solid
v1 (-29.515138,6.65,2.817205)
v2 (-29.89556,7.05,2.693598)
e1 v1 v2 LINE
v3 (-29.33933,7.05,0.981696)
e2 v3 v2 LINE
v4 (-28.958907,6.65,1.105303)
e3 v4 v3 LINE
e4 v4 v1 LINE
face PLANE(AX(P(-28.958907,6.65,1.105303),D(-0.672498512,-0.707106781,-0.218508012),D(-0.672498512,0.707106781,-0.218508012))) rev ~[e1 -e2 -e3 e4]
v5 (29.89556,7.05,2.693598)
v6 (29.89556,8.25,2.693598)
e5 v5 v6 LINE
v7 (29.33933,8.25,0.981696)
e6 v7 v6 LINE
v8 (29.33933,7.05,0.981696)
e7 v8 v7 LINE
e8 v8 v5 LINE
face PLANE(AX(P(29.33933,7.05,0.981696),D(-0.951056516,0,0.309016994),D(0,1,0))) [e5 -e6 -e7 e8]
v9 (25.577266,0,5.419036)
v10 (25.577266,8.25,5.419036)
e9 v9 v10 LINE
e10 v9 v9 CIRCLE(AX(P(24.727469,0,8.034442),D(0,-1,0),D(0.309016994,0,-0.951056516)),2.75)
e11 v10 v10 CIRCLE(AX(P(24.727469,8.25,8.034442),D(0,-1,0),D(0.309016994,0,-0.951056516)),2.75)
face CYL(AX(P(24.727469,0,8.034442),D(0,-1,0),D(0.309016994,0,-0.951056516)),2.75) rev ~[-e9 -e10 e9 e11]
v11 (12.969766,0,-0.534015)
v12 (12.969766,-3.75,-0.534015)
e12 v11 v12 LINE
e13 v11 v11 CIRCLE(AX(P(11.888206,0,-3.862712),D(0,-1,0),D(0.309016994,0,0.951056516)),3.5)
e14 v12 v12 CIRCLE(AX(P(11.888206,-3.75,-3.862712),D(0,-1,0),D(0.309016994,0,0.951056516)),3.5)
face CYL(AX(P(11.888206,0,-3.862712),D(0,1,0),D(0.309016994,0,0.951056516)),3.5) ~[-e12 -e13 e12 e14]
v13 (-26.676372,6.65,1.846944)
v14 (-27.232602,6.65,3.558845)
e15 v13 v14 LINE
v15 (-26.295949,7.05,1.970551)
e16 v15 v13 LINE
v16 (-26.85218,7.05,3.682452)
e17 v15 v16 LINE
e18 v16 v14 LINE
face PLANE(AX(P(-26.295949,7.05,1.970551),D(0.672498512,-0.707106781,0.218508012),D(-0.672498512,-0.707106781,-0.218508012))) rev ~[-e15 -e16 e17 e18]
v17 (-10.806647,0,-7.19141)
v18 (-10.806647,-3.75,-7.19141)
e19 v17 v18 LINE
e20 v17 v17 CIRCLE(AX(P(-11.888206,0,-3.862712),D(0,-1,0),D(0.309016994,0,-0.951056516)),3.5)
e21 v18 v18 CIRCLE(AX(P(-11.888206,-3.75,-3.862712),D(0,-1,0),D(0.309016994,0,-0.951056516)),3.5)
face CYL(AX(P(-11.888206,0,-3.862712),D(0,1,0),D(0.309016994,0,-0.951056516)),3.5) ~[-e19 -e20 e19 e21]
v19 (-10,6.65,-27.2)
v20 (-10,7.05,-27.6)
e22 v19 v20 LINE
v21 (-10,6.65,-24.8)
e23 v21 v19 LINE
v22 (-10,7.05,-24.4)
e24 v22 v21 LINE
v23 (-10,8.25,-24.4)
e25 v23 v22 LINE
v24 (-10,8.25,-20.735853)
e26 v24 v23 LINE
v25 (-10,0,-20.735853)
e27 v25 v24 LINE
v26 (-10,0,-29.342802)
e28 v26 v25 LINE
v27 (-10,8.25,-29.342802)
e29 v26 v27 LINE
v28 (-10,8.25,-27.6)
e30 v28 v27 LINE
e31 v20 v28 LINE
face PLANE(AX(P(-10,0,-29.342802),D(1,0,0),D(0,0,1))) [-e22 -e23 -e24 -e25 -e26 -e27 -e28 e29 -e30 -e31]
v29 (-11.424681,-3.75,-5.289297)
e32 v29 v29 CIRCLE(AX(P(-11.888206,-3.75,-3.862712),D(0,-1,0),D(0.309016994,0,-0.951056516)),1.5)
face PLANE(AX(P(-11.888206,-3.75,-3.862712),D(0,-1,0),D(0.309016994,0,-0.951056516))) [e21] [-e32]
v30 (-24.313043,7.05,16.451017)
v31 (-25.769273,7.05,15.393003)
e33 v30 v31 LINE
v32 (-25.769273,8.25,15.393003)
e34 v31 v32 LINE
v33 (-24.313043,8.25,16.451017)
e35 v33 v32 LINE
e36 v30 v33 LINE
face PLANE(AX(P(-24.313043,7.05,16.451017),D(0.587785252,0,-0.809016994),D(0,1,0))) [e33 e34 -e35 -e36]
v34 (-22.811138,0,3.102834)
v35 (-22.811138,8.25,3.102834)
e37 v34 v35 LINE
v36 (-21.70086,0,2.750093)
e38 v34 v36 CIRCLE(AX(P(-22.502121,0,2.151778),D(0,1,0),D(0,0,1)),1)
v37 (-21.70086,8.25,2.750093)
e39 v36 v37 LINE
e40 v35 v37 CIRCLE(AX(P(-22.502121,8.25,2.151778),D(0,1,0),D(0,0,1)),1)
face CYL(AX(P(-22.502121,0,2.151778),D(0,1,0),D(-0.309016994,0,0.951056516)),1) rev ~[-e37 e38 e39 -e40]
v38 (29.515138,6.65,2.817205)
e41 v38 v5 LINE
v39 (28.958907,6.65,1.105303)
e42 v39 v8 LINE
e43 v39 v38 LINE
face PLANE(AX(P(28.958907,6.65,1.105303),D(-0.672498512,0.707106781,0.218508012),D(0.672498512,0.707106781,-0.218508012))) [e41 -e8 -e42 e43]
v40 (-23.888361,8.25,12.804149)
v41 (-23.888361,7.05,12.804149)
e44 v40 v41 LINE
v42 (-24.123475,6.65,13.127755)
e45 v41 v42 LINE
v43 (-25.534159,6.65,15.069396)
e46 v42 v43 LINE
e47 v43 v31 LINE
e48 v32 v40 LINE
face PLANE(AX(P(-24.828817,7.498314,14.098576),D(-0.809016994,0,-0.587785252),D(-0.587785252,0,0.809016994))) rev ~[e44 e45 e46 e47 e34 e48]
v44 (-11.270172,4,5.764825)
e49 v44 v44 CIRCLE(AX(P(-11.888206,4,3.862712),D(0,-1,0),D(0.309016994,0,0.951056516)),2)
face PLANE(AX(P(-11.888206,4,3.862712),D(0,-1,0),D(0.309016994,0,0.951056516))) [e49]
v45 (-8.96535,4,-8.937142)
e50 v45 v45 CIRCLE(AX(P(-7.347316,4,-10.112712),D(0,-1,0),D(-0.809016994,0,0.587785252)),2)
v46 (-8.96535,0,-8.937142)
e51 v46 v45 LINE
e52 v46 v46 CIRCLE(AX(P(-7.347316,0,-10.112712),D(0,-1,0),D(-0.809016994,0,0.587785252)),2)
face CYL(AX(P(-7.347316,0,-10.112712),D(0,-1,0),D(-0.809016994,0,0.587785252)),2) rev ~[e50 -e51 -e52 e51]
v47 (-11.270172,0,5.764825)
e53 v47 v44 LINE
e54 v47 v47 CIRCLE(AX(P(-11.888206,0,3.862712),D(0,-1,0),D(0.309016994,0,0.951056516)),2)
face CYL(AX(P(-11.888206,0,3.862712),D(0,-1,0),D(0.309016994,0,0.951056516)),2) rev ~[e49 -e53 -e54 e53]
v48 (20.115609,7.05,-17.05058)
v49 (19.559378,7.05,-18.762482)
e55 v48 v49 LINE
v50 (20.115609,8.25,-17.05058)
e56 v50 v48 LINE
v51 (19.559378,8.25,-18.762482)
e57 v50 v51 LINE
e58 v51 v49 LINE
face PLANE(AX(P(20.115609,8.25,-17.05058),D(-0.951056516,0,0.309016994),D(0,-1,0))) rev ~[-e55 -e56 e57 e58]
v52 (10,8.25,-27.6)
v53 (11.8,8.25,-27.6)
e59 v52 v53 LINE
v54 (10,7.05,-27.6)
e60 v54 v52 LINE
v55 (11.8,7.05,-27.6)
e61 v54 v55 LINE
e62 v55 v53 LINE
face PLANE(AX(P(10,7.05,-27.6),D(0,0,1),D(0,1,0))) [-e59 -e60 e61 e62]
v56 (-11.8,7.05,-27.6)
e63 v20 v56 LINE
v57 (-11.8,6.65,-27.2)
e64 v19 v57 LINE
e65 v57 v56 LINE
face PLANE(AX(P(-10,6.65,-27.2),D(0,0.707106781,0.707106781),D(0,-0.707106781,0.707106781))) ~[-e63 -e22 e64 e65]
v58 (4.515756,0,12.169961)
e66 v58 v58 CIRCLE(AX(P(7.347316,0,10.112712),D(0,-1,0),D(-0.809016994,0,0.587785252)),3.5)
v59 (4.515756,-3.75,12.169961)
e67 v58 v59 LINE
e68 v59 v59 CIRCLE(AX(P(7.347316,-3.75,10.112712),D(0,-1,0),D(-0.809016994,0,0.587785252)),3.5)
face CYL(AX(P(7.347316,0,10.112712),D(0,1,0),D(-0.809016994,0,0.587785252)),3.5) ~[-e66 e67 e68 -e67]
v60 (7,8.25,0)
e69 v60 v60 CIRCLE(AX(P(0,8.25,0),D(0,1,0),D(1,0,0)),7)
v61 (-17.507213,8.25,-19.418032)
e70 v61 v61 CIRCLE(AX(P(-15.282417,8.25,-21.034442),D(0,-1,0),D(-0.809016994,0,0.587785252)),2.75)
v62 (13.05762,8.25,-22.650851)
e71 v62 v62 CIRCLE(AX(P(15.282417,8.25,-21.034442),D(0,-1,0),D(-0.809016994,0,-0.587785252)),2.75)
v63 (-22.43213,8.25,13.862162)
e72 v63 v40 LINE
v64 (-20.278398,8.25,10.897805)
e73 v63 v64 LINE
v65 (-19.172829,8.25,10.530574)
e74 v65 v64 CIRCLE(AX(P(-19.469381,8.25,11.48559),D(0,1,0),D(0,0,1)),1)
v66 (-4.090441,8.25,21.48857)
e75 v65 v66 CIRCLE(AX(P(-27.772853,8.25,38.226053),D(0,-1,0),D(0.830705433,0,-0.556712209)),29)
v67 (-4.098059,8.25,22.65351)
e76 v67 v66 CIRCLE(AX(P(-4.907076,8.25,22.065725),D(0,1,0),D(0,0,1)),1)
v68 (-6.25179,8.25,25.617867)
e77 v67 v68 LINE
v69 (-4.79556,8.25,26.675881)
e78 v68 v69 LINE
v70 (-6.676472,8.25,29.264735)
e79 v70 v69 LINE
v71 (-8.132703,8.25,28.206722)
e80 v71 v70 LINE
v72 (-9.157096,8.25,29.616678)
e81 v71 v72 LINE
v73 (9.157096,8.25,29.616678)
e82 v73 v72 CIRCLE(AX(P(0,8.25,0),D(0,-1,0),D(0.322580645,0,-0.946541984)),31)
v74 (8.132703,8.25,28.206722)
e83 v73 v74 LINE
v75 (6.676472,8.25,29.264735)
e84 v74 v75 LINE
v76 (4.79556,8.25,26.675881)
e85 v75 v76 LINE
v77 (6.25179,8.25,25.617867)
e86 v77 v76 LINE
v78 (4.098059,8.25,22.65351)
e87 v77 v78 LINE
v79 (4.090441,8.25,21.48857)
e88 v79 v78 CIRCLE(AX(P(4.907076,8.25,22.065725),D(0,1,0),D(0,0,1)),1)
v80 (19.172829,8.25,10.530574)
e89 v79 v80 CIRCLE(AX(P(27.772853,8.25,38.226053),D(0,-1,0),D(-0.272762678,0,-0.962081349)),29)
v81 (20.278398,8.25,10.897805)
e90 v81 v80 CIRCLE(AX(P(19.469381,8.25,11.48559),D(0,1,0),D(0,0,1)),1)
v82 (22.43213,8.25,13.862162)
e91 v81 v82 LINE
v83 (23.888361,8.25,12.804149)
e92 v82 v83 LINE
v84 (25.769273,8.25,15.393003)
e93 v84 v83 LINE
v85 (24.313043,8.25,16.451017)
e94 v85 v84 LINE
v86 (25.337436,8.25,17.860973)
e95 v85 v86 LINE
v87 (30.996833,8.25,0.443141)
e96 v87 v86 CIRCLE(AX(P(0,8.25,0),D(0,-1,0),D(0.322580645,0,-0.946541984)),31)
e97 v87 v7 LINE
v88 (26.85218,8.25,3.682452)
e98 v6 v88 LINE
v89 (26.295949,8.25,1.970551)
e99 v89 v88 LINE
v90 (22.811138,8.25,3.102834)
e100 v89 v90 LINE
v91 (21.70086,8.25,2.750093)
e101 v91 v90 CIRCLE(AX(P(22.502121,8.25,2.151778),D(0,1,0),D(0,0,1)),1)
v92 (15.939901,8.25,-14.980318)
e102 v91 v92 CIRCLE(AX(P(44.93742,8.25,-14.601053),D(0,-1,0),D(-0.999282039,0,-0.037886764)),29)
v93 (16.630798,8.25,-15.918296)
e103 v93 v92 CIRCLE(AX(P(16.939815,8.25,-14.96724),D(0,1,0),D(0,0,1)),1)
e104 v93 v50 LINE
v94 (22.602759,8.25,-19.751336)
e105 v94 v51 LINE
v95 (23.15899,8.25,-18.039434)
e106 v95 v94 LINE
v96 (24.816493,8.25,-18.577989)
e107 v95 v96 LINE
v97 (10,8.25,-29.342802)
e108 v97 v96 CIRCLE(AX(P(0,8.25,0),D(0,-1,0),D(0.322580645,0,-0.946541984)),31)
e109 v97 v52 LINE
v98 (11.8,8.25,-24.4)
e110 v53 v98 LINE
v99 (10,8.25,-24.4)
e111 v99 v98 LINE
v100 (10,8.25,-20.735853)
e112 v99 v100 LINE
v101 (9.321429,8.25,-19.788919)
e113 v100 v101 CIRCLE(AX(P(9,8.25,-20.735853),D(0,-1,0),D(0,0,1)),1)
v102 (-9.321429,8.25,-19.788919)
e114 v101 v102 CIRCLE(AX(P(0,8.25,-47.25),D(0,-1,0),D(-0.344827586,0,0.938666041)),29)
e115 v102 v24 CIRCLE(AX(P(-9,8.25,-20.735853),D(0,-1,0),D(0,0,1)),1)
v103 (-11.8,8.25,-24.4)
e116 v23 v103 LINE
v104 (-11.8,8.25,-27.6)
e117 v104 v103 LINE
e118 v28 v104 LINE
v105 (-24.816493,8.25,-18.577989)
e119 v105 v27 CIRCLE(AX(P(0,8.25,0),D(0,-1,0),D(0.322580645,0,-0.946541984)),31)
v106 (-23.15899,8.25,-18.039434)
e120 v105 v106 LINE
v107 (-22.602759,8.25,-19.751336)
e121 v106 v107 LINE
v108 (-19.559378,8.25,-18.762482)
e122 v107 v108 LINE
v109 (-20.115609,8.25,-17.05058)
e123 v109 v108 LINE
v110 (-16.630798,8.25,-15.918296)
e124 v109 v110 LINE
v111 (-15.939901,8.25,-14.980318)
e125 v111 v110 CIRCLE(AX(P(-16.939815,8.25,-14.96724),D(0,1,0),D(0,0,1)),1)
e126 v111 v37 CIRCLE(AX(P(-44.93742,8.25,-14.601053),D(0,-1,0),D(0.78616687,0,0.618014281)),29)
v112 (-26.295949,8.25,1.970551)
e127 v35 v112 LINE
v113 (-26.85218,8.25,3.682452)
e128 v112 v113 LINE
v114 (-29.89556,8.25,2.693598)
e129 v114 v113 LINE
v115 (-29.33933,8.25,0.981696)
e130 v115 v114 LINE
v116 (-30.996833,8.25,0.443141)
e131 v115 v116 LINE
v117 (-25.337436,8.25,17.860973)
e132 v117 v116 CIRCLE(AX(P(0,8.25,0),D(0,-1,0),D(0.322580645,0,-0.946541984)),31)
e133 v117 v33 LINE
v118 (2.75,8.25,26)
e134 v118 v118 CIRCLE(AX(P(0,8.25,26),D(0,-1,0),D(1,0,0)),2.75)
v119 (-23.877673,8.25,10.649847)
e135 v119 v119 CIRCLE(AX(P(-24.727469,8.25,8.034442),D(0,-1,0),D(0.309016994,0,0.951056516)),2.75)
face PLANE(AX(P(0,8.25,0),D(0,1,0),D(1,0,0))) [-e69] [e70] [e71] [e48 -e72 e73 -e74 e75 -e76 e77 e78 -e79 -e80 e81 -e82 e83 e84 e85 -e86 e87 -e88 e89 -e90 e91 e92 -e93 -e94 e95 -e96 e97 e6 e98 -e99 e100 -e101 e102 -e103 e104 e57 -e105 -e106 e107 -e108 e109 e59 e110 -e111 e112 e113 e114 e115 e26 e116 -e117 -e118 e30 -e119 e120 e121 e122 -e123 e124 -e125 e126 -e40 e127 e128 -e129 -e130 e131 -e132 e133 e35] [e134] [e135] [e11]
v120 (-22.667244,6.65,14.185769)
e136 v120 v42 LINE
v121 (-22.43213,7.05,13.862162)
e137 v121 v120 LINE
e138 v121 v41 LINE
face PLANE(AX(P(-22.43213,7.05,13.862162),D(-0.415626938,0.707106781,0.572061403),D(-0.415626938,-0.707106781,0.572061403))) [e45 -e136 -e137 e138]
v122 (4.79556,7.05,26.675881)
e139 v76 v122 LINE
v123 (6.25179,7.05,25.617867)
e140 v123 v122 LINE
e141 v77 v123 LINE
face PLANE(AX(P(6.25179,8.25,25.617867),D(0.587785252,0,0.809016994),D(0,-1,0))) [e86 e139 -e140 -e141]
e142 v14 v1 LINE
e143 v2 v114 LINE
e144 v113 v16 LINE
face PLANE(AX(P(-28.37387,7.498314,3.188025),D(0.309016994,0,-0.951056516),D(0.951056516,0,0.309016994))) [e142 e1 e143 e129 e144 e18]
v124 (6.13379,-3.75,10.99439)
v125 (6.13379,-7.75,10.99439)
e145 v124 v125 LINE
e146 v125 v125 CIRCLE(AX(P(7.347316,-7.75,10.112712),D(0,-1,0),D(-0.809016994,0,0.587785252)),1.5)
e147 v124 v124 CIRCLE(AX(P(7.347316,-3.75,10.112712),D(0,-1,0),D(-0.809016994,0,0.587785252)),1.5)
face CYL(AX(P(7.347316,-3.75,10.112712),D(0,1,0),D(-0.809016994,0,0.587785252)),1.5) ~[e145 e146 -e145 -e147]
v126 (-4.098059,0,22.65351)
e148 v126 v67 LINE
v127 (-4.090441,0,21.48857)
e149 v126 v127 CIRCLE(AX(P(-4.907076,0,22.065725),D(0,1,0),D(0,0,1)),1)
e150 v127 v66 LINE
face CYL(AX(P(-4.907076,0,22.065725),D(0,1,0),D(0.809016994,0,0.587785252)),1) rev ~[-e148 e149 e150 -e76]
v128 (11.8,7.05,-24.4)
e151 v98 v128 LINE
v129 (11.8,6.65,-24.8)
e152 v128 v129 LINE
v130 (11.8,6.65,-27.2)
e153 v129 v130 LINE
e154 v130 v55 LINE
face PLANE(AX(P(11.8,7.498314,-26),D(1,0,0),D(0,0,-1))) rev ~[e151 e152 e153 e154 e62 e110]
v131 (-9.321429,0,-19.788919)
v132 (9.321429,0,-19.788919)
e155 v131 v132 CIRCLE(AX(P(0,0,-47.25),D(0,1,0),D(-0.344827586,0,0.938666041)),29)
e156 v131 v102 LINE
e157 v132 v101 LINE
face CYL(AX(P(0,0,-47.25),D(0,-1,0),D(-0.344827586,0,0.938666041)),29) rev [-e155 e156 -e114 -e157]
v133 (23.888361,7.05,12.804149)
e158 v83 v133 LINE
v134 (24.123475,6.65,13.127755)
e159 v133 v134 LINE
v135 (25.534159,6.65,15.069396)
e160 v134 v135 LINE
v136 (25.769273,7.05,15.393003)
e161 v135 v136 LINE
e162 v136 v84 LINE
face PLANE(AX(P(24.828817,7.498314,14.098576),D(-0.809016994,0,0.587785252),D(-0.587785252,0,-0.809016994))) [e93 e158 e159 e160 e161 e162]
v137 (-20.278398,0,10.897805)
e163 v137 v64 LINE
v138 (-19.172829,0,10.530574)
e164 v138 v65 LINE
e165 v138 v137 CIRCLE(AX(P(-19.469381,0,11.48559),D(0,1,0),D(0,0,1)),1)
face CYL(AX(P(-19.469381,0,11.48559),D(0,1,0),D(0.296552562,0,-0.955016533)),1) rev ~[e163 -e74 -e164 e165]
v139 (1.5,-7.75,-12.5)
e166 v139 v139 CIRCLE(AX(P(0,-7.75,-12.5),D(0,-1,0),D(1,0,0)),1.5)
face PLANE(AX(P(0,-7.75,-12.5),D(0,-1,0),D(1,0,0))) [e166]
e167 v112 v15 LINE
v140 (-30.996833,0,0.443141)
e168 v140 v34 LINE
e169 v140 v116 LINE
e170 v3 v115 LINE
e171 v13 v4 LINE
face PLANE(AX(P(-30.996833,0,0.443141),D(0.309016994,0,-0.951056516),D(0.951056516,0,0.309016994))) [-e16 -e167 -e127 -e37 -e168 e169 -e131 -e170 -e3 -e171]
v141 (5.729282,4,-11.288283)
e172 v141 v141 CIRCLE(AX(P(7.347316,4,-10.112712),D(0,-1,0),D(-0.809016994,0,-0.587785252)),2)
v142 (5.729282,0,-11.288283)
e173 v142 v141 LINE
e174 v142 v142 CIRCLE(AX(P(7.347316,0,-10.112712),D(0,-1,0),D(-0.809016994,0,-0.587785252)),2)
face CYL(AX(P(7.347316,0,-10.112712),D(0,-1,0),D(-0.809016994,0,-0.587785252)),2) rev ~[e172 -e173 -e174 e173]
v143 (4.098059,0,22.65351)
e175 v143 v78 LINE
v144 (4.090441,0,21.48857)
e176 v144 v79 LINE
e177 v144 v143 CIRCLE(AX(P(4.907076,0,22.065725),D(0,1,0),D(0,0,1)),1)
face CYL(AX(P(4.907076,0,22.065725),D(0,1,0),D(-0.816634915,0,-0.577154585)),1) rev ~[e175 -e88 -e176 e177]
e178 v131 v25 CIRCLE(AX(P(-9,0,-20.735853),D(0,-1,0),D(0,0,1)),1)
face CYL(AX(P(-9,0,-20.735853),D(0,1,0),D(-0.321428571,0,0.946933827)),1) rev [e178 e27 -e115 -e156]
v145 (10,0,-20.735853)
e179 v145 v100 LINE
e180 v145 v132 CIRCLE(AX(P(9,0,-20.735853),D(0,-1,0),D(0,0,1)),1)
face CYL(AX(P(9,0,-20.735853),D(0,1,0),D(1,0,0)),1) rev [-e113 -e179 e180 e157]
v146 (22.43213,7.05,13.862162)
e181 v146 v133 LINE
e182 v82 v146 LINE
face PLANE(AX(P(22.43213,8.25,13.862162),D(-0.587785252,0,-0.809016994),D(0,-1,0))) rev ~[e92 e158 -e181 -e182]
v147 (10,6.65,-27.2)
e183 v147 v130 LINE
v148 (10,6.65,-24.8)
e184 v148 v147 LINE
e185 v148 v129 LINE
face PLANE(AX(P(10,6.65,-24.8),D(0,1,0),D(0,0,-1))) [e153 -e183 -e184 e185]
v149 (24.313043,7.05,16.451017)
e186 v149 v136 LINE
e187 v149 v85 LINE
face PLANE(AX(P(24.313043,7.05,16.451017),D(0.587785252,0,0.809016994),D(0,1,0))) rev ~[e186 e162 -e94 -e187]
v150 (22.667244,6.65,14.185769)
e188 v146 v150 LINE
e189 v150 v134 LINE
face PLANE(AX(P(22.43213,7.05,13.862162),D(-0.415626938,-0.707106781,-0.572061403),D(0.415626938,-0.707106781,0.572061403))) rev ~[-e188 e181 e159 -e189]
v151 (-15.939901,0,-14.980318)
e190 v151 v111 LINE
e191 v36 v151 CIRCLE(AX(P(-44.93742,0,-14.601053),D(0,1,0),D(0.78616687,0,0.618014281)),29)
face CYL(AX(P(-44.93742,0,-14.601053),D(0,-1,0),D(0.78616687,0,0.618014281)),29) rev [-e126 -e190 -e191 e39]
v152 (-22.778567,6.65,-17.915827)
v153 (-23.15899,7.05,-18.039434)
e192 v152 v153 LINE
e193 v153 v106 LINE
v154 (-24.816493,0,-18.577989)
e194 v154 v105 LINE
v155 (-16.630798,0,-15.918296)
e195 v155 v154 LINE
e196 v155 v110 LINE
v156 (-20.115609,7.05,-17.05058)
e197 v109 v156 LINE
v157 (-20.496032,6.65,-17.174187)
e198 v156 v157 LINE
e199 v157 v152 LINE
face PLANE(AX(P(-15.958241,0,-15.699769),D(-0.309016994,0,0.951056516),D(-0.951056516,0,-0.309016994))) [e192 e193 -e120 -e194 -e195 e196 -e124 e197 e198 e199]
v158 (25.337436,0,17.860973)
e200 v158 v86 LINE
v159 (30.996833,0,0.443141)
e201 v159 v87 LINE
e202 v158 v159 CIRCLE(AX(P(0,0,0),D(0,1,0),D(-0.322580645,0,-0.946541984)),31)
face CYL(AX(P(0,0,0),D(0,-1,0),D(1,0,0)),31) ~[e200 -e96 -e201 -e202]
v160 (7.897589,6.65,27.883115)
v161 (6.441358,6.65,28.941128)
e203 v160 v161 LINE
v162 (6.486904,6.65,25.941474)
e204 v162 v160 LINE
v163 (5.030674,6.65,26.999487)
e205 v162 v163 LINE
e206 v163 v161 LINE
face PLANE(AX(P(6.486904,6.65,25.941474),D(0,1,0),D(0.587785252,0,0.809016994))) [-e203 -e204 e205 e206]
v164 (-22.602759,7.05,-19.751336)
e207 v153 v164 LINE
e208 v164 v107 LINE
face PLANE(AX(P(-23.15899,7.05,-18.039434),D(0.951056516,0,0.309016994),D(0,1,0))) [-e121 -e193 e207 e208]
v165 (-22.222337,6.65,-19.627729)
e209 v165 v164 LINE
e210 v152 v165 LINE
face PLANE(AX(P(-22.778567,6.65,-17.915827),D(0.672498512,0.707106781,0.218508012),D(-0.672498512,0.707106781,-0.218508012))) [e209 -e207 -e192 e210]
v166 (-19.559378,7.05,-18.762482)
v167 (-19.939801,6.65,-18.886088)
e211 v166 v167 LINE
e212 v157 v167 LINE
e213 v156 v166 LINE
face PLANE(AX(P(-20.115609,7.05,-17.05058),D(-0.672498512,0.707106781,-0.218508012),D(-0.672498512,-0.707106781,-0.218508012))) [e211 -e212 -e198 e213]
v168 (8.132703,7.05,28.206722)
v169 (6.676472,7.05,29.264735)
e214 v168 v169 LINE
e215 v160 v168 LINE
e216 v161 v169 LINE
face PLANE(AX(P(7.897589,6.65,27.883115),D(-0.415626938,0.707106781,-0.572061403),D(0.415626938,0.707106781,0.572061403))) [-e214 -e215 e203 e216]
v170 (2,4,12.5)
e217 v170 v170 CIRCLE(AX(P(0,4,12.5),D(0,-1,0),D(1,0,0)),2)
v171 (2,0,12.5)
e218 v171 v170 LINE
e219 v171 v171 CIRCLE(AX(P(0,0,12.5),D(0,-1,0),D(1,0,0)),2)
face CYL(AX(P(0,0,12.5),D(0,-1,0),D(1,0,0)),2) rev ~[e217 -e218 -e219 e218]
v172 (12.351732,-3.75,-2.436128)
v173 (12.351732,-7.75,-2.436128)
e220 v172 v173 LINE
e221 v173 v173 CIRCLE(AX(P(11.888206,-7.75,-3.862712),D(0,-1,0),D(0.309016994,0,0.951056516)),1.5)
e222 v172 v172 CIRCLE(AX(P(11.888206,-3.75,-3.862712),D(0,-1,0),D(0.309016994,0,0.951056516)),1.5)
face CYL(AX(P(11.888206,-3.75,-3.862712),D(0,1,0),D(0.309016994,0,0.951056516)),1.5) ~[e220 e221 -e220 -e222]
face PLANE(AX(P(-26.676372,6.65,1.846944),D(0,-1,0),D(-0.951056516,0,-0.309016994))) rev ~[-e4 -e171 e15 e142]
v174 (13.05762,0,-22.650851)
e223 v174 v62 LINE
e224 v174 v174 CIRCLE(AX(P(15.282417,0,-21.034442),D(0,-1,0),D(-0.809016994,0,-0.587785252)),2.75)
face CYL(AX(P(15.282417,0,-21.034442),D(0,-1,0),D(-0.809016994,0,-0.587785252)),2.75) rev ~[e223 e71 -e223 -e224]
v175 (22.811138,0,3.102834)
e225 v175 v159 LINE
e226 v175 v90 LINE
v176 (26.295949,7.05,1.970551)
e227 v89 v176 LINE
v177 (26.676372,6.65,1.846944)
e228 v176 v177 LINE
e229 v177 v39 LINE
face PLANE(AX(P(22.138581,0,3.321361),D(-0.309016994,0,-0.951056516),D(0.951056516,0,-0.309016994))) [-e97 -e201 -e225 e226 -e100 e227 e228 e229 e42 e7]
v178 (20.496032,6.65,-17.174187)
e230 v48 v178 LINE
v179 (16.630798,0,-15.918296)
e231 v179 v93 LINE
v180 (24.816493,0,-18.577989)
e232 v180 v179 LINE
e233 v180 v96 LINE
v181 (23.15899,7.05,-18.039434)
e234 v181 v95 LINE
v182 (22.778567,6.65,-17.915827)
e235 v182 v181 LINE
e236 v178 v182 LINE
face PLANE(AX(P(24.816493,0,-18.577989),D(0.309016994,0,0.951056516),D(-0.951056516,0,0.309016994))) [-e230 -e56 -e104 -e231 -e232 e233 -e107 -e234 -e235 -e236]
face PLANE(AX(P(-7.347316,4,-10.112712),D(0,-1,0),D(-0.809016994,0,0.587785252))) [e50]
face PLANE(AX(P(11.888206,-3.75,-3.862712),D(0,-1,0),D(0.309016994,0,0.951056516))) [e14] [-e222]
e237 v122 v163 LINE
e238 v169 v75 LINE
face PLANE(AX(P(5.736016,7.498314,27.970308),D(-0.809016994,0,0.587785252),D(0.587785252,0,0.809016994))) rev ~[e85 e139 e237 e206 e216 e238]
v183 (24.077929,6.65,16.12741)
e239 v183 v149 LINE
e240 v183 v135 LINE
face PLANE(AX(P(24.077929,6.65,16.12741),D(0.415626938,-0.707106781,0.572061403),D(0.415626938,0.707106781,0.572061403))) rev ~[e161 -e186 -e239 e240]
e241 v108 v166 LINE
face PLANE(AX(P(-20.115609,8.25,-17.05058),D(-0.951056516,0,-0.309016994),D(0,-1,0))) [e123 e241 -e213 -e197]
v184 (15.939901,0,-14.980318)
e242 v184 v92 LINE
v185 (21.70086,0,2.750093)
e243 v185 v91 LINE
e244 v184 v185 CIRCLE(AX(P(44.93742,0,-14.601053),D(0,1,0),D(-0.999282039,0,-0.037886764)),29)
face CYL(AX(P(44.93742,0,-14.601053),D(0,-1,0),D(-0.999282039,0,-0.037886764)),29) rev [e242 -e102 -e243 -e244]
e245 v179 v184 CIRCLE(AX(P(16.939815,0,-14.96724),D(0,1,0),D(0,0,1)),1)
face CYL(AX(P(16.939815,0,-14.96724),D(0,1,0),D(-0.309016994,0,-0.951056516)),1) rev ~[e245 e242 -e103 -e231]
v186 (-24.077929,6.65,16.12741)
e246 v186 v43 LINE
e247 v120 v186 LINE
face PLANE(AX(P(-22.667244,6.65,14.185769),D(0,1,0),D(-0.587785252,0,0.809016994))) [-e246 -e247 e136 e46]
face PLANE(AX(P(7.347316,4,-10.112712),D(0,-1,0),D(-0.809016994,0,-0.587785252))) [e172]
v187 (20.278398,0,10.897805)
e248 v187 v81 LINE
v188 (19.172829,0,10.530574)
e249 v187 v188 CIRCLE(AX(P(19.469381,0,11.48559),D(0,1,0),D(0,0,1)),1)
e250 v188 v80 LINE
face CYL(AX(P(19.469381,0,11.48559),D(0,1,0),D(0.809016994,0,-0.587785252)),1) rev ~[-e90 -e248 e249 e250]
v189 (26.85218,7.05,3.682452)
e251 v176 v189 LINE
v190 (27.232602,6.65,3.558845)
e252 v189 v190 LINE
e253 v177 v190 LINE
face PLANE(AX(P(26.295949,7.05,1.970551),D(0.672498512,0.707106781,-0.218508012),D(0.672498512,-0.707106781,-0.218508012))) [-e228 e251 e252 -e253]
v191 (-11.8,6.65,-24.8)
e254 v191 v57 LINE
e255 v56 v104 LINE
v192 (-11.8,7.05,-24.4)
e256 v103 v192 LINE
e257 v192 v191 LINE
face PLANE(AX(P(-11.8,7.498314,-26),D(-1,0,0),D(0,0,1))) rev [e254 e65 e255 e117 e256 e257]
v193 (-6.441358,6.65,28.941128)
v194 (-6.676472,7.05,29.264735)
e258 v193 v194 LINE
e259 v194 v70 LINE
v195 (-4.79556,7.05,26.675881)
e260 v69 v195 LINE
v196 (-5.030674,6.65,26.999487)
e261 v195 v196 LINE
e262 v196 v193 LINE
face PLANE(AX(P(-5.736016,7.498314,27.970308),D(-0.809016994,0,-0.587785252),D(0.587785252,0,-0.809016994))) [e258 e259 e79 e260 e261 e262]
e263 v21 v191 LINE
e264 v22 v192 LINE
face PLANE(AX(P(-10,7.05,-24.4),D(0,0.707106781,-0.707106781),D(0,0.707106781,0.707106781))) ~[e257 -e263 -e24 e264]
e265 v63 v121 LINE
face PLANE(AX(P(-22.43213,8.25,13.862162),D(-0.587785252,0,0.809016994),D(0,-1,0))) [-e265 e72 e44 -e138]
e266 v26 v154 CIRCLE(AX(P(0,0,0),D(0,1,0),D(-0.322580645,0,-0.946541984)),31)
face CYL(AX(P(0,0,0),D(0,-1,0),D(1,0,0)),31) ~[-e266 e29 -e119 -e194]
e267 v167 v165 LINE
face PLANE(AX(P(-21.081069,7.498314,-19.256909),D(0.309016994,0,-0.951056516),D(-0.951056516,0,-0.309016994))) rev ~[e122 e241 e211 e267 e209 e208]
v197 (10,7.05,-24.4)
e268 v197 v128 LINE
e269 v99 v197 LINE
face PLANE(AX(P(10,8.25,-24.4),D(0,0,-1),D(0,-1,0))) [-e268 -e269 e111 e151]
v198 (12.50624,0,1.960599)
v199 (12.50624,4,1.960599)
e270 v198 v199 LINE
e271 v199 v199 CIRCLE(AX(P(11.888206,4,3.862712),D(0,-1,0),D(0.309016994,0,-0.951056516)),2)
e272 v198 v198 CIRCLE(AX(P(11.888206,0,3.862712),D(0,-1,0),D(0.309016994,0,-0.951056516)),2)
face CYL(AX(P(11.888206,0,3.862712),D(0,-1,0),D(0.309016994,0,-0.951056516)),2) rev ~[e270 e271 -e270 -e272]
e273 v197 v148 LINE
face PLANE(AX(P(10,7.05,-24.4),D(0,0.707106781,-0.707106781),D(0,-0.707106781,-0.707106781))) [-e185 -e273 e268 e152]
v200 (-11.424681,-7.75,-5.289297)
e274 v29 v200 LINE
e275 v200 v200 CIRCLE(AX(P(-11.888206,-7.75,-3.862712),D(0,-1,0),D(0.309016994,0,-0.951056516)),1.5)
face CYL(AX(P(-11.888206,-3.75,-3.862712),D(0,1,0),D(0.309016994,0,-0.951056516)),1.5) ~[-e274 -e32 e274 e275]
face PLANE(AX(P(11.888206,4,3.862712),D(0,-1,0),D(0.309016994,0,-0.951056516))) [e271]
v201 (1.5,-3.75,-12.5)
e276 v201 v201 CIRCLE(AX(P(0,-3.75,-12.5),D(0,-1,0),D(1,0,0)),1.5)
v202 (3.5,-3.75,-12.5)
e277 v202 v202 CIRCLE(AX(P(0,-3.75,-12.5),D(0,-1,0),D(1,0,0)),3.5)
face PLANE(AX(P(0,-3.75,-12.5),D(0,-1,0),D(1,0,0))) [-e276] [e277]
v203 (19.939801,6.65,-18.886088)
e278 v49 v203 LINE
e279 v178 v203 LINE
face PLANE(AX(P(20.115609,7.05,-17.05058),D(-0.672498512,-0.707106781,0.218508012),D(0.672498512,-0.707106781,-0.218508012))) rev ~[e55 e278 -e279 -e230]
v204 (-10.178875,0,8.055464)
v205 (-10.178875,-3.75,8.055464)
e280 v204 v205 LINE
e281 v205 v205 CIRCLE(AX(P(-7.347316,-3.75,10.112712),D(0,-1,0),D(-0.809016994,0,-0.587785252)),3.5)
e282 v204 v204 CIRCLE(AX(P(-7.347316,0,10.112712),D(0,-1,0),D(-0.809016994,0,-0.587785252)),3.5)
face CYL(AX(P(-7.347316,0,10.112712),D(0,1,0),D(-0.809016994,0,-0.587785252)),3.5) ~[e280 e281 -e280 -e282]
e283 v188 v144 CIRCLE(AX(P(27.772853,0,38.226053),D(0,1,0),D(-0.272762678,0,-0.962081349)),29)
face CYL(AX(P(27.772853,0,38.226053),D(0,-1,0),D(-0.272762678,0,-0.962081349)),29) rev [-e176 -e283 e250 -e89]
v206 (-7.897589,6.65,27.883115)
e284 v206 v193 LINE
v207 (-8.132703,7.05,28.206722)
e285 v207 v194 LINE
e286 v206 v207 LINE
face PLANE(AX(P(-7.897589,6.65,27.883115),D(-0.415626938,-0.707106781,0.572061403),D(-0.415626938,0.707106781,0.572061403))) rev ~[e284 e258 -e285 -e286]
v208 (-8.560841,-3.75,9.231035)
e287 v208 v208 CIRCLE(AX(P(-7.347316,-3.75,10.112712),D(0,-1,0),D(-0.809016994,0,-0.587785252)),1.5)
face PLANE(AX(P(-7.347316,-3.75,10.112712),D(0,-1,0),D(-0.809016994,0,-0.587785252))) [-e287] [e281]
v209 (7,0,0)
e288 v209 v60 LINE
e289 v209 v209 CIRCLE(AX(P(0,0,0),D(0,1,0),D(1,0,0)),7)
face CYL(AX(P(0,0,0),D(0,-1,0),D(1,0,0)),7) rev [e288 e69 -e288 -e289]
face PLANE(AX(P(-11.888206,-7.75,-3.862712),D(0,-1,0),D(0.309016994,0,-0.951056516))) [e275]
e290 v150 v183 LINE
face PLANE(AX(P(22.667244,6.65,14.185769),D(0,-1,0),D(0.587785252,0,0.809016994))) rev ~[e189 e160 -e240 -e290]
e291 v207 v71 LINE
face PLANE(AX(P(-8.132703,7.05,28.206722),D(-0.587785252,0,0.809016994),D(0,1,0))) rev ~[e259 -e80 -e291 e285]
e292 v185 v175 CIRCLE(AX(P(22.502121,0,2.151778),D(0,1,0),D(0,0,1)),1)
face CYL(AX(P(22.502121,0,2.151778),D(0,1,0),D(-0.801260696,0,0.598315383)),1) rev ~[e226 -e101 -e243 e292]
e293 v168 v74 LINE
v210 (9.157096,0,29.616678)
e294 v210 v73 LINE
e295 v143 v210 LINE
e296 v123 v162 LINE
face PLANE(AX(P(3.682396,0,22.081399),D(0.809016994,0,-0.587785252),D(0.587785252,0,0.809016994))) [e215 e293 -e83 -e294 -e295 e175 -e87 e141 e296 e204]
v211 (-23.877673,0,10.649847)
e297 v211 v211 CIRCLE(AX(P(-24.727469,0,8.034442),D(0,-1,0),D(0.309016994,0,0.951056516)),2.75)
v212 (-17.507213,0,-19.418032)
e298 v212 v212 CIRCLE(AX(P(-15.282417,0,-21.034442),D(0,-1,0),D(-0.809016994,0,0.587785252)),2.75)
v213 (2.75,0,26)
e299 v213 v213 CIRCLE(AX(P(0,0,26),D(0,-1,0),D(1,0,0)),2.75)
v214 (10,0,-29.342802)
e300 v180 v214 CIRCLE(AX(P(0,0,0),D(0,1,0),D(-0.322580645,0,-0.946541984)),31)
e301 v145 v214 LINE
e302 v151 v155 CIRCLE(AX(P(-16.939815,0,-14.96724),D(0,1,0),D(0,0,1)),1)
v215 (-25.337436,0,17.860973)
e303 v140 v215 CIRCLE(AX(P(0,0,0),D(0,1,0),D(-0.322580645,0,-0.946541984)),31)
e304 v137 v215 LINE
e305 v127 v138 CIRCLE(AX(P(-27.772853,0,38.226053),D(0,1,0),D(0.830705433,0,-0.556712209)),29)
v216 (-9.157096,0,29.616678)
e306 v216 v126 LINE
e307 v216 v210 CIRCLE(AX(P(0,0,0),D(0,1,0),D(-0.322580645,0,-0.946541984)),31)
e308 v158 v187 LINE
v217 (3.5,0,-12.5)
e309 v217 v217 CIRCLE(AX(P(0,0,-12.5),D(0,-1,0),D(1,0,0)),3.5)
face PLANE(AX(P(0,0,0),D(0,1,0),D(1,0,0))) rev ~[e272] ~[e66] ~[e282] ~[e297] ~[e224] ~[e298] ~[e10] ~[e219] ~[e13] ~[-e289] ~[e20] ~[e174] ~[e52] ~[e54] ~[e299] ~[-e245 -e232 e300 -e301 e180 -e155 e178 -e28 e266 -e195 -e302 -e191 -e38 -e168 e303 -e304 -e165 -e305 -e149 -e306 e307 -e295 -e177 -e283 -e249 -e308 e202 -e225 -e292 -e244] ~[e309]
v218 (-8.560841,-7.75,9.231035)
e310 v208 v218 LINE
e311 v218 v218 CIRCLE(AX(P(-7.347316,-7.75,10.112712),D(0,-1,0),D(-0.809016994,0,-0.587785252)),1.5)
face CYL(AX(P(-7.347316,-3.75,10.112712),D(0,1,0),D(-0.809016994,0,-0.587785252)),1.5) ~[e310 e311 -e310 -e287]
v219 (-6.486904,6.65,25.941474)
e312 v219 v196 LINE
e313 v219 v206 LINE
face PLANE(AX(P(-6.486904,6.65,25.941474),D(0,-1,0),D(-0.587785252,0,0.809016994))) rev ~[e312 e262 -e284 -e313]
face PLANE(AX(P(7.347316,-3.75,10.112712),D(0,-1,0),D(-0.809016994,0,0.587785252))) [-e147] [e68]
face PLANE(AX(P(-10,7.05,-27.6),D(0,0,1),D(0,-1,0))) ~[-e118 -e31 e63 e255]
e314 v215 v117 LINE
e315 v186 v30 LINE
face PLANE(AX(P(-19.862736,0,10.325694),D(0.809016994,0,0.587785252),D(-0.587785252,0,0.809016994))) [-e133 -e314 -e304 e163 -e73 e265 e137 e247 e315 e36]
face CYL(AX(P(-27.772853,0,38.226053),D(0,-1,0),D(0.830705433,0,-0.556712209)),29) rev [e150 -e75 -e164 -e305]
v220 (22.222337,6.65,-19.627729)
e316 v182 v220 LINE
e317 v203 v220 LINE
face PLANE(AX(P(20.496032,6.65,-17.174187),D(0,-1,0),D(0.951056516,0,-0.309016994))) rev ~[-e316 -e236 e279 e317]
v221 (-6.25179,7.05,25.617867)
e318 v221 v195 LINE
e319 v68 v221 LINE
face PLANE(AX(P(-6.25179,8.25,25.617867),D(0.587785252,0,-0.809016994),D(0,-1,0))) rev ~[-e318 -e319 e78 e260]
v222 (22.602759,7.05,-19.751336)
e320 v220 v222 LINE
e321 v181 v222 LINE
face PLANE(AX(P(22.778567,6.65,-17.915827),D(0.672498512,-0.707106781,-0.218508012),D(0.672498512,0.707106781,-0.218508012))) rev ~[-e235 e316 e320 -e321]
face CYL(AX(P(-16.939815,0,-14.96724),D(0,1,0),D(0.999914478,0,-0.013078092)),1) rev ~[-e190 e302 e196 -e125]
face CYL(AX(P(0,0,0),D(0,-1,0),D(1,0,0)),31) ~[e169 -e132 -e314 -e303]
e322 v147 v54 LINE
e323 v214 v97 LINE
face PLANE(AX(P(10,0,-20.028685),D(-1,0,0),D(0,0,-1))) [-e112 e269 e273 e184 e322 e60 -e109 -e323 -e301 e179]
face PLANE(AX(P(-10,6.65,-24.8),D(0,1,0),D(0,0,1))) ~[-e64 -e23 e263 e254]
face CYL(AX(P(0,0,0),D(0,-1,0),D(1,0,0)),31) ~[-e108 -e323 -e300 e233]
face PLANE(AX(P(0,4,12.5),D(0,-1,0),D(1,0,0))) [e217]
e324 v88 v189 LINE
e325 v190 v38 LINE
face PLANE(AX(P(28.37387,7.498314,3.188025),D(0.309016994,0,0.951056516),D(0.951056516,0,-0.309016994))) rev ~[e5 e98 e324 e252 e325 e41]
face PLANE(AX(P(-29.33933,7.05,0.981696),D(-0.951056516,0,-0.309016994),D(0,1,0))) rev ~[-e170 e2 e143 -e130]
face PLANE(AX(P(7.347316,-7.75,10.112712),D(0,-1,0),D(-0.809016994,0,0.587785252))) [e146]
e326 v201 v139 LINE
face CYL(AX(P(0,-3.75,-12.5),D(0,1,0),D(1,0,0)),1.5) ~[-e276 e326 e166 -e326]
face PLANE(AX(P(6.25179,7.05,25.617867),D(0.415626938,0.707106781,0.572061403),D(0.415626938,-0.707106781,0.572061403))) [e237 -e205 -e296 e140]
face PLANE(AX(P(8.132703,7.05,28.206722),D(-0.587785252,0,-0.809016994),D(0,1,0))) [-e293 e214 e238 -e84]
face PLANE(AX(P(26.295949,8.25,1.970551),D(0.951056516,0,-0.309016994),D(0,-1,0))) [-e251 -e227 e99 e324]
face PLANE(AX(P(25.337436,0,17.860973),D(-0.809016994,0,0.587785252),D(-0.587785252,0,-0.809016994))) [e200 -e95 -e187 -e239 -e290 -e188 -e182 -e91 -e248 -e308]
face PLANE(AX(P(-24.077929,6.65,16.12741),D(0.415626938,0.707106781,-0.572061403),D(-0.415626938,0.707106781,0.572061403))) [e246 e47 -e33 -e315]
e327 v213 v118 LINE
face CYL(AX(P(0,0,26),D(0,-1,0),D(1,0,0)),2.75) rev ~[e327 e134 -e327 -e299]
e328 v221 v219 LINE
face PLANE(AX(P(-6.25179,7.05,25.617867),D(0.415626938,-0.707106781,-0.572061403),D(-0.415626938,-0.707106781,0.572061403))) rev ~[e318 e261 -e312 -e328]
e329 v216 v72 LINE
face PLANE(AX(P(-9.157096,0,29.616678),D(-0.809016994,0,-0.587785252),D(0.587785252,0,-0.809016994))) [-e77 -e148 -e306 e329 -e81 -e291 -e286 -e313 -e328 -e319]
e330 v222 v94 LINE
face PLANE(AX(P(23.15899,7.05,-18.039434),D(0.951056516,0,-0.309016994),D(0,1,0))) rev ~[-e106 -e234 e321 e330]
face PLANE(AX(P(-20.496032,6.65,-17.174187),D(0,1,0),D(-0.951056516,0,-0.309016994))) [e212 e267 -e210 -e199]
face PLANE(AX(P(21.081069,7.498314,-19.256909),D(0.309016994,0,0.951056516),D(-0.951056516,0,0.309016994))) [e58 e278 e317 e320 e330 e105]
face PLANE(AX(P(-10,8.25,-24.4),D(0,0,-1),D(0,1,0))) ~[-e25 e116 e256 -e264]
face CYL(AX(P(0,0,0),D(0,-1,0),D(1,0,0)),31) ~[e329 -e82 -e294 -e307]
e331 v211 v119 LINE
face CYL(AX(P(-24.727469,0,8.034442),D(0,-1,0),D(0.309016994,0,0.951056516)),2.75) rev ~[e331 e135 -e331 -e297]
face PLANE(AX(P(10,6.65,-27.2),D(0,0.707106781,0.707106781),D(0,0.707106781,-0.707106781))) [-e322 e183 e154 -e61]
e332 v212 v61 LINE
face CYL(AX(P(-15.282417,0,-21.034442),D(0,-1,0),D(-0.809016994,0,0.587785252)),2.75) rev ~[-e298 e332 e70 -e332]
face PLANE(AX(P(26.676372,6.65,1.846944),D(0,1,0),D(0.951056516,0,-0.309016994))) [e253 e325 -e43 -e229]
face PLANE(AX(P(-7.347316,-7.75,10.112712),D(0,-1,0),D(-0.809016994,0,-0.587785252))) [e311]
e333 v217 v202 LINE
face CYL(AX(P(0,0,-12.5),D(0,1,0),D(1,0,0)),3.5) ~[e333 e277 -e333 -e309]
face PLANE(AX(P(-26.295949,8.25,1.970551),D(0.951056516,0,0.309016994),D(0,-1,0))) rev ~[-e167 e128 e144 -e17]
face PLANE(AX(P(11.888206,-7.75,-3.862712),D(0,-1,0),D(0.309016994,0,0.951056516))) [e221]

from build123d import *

# Parameters (mm, degrees)
SKETCH1_R                = 31
SKETCH1_R_2              = 7
BOSS_EXTRUDE1_DEPTH      = 8.25
CUT_EXTRUDE1_DEPTH       = 9.25
FILLET1_R                = 1
CIRPATTERN2_COUNT        = 5
FILLET1_OF_CIRPATTERN2_R = 1
CUT_EXTRUDE2_DEPTH       = 1.8
CIRPATTERN3_COUNT        = 5
CIRPATTERN3_COPY_1_DEPTH = 1.8
CIRPATTERN3_COPY_2_DEPTH = 1.8
CIRPATTERN3_COPY_3_DEPTH = 1.8
CIRPATTERN3_COPY_4_DEPTH = 1.8
SKETCH5_R                = 2.75
CUT_EXTRUDE4_DEPTH       = 9.25
CIRPATTERN4_COUNT        = 5
SKETCH8_R                = 3.5
BOSS_EXTRUDE2_DEPTH      = 3.75
SKETCH9_R                = 2
CUT_EXTRUDE6_DEPTH       = 4
SKETCH10_R               = 1.5
BOSS_EXTRUDE3_DEPTH      = 4
CIRPATTERN6_COUNT        = 5


with BuildPart() as part:
    # Sketch1 → Boss-Extrude1 (new body)
    with BuildSketch(Plane(origin=(0, 0, 0), x_dir=(1, 0, 0), z_dir=(0, 1, 0))):
        Circle(SKETCH1_R)
        Circle(SKETCH1_R_2, mode=Mode.SUBTRACT)
    extrude(amount=BOSS_EXTRUDE1_DEPTH)

    # Sketch2 → Cut-Extrude1 (cut, through all)
    with BuildSketch(Plane.XZ):
        with BuildLine():
            Line((-10, -29.342801502), (-10, -20.028684822))
            ThreePointArc((-10, -20.028684822), (0, -18.25), (10, -20.028684822))
            Line((10, -20.028684822), (10, -29.342801502))
            ThreePointArc((10, -29.342801502), (0, -31), (-10, -29.342801502))
        make_face()
    cut_extrude1 = extrude(amount=-CUT_EXTRUDE1_DEPTH, mode=Mode.SUBTRACT)

    # Fillet1
    fillet1_edges = [part.edges().sort_by_distance(p)[0] for p in [
        (-10, 4.125, -20.028684822),
        (10, 4.125, -20.028684822),
    ]]
    fillet(fillet1_edges, radius=FILLET1_R)

    # CirPattern2: Cut-Extrude1 ×5 about axis
    cirpattern2_axis = Axis((0, 0, 0), (0, 1, 0))
    for i in range(1, CIRPATTERN2_COUNT):
        add(cut_extrude1.rotate(cirpattern2_axis, i * 360 / CIRPATTERN2_COUNT), mode=Mode.SUBTRACT)

    # Fillet1 of CirPattern2
    fillet1_of_cirpattern2_edges = [part.edges().sort_by_distance(p)[0] for p in [
        (-22.138581157, 4.125, 3.321361178),
        (-15.958241269, 4.125, -15.699769148),
        (-3.682395618, 4.125, 22.081398919),
        (-19.862735505, 4.125, 10.325693873),
        (19.862735505, 4.125, 10.325693873),
        (3.682395618, 4.125, 22.081398919),
        (15.958241269, 4.125, -15.699769148),
        (22.138581157, 4.125, 3.321361178),
    ]]
    fillet(fillet1_of_cirpattern2_edges, radius=FILLET1_OF_CIRPATTERN2_R)

    # Sketch3 → Cut-Extrude2 (cut)
    with BuildSketch(Plane.ZY.offset(-10)):
        Polygon((-27.6, 8.25), (-24.4, 8.25), (-24.4, 7.05), (-24.8, 6.65), (-27.2, 6.65), (-27.6, 7.05), align=None)
    cut_extrude2 = extrude(amount=-CUT_EXTRUDE2_DEPTH, mode=Mode.SUBTRACT)

    # Mirror1: Cut-Extrude2 across plane
    add(cut_extrude2.mirror(Plane(origin=(0, 0, 0), x_dir=(0, 0, 1), z_dir=(1, 0, 0))), mode=Mode.SUBTRACT)

    # CirPattern3: Cut-Extrude2 ×5 about axis
    cirpattern3_axis = Axis((0, 0, 0), (0, 1, 0))
    for i in range(1, CIRPATTERN3_COUNT):
        add(cut_extrude2.rotate(cirpattern3_axis, i * 360 / CIRPATTERN3_COUNT), mode=Mode.SUBTRACT)

    # CirPattern3 copy 1 sketch → CirPattern3 copy 1 (cut)
    with BuildSketch(Plane(origin=(-3.090169944, 0, 9.510565163), x_dir=(0.951056516, 0, 0.309016994), z_dir=(0.309016994, 0, -0.951056516))):
        Polygon((-27.6, -8.25), (-24.4, -8.25), (-24.4, -7.05), (-24.8, -6.65), (-27.2, -6.65), (-27.6, -7.05), align=None)
    extrude(amount=-CIRPATTERN3_COPY_1_DEPTH, mode=Mode.SUBTRACT)

    # CirPattern3 copy 2 sketch → CirPattern3 copy 2 (cut)
    with BuildSketch(Plane(origin=(8.090169944, 0, 5.877852523), x_dir=(0.587785252, 0, -0.809016994), z_dir=(-0.809016994, 0, -0.587785252))):
        Polygon((-27.6, -8.25), (-24.4, -8.25), (-24.4, -7.05), (-24.8, -6.65), (-27.2, -6.65), (-27.6, -7.05), align=None)
    extrude(amount=-CIRPATTERN3_COPY_2_DEPTH, mode=Mode.SUBTRACT)

    # CirPattern3 copy 3 sketch → CirPattern3 copy 3 (cut)
    with BuildSketch(Plane(origin=(8.090169944, 0, -5.877852523), x_dir=(-0.587785252, 0, -0.809016994), z_dir=(-0.809016994, 0, 0.587785252))):
        Polygon((-27.6, -8.25), (-24.4, -8.25), (-24.4, -7.05), (-24.8, -6.65), (-27.2, -6.65), (-27.6, -7.05), align=None)
    extrude(amount=-CIRPATTERN3_COPY_3_DEPTH, mode=Mode.SUBTRACT)

    # CirPattern3 copy 4 sketch → CirPattern3 copy 4 (cut)
    with BuildSketch(Plane(origin=(-3.090169944, 0, -9.510565163), x_dir=(-0.951056516, 0, 0.309016994), z_dir=(0.309016994, 0, 0.951056516))):
        Polygon((-27.6, -8.25), (-24.4, -8.25), (-24.4, -7.05), (-24.8, -6.65), (-27.2, -6.65), (-27.6, -7.05), align=None)
    extrude(amount=-CIRPATTERN3_COPY_4_DEPTH, mode=Mode.SUBTRACT)

    # Sketch5 → Cut-Extrude4 (cut, through all)
    with BuildSketch(Plane.XZ):
        with Locations((0, 26)):
            Circle(SKETCH5_R)
    cut_extrude4 = extrude(amount=-CUT_EXTRUDE4_DEPTH, mode=Mode.SUBTRACT)

    # CirPattern4: Cut-Extrude4 ×5 about axis
    cirpattern4_axis = Axis((0, 0, 0), (0, 1, 0))
    for i in range(1, CIRPATTERN4_COUNT):
        add(cut_extrude4.rotate(cirpattern4_axis, i * 360 / CIRPATTERN4_COUNT), mode=Mode.SUBTRACT)

    # Sketch8 → Boss-Extrude2 (add)
    with BuildSketch(Plane.XZ):
        with Locations((0, -12.5)):
            Circle(SKETCH8_R)
    boss_extrude2 = extrude(amount=BOSS_EXTRUDE2_DEPTH)

    # Sketch9 → Cut-Extrude6 (cut)
    with BuildSketch(Plane.XZ):
        with Locations((0, 12.5)):
            Circle(SKETCH9_R)
    cut_extrude6 = extrude(amount=-CUT_EXTRUDE6_DEPTH, mode=Mode.SUBTRACT)

    # Sketch10 → Boss-Extrude3 (add)
    with BuildSketch(Plane.XZ.offset(3.75)):
        with Locations((0, -12.5)):
            Circle(SKETCH10_R)
    boss_extrude3 = extrude(amount=BOSS_EXTRUDE3_DEPTH)

    # CirPattern6: Boss-Extrude2, Cut-Extrude6, Boss-Extrude3 ×5 about axis
    cirpattern6_axis = Axis((0, 0, 0), (0, 1, 0))
    for i in range(1, CIRPATTERN6_COUNT):
        add(boss_extrude2.rotate(cirpattern6_axis, i * 360 / CIRPATTERN6_COUNT))
        add(cut_extrude6.rotate(cirpattern6_axis, i * 360 / CIRPATTERN6_COUNT), mode=Mode.SUBTRACT)
        add(boss_extrude3.rotate(cirpattern6_axis, i * 360 / CIRPATTERN6_COUNT))


solid = part.part
